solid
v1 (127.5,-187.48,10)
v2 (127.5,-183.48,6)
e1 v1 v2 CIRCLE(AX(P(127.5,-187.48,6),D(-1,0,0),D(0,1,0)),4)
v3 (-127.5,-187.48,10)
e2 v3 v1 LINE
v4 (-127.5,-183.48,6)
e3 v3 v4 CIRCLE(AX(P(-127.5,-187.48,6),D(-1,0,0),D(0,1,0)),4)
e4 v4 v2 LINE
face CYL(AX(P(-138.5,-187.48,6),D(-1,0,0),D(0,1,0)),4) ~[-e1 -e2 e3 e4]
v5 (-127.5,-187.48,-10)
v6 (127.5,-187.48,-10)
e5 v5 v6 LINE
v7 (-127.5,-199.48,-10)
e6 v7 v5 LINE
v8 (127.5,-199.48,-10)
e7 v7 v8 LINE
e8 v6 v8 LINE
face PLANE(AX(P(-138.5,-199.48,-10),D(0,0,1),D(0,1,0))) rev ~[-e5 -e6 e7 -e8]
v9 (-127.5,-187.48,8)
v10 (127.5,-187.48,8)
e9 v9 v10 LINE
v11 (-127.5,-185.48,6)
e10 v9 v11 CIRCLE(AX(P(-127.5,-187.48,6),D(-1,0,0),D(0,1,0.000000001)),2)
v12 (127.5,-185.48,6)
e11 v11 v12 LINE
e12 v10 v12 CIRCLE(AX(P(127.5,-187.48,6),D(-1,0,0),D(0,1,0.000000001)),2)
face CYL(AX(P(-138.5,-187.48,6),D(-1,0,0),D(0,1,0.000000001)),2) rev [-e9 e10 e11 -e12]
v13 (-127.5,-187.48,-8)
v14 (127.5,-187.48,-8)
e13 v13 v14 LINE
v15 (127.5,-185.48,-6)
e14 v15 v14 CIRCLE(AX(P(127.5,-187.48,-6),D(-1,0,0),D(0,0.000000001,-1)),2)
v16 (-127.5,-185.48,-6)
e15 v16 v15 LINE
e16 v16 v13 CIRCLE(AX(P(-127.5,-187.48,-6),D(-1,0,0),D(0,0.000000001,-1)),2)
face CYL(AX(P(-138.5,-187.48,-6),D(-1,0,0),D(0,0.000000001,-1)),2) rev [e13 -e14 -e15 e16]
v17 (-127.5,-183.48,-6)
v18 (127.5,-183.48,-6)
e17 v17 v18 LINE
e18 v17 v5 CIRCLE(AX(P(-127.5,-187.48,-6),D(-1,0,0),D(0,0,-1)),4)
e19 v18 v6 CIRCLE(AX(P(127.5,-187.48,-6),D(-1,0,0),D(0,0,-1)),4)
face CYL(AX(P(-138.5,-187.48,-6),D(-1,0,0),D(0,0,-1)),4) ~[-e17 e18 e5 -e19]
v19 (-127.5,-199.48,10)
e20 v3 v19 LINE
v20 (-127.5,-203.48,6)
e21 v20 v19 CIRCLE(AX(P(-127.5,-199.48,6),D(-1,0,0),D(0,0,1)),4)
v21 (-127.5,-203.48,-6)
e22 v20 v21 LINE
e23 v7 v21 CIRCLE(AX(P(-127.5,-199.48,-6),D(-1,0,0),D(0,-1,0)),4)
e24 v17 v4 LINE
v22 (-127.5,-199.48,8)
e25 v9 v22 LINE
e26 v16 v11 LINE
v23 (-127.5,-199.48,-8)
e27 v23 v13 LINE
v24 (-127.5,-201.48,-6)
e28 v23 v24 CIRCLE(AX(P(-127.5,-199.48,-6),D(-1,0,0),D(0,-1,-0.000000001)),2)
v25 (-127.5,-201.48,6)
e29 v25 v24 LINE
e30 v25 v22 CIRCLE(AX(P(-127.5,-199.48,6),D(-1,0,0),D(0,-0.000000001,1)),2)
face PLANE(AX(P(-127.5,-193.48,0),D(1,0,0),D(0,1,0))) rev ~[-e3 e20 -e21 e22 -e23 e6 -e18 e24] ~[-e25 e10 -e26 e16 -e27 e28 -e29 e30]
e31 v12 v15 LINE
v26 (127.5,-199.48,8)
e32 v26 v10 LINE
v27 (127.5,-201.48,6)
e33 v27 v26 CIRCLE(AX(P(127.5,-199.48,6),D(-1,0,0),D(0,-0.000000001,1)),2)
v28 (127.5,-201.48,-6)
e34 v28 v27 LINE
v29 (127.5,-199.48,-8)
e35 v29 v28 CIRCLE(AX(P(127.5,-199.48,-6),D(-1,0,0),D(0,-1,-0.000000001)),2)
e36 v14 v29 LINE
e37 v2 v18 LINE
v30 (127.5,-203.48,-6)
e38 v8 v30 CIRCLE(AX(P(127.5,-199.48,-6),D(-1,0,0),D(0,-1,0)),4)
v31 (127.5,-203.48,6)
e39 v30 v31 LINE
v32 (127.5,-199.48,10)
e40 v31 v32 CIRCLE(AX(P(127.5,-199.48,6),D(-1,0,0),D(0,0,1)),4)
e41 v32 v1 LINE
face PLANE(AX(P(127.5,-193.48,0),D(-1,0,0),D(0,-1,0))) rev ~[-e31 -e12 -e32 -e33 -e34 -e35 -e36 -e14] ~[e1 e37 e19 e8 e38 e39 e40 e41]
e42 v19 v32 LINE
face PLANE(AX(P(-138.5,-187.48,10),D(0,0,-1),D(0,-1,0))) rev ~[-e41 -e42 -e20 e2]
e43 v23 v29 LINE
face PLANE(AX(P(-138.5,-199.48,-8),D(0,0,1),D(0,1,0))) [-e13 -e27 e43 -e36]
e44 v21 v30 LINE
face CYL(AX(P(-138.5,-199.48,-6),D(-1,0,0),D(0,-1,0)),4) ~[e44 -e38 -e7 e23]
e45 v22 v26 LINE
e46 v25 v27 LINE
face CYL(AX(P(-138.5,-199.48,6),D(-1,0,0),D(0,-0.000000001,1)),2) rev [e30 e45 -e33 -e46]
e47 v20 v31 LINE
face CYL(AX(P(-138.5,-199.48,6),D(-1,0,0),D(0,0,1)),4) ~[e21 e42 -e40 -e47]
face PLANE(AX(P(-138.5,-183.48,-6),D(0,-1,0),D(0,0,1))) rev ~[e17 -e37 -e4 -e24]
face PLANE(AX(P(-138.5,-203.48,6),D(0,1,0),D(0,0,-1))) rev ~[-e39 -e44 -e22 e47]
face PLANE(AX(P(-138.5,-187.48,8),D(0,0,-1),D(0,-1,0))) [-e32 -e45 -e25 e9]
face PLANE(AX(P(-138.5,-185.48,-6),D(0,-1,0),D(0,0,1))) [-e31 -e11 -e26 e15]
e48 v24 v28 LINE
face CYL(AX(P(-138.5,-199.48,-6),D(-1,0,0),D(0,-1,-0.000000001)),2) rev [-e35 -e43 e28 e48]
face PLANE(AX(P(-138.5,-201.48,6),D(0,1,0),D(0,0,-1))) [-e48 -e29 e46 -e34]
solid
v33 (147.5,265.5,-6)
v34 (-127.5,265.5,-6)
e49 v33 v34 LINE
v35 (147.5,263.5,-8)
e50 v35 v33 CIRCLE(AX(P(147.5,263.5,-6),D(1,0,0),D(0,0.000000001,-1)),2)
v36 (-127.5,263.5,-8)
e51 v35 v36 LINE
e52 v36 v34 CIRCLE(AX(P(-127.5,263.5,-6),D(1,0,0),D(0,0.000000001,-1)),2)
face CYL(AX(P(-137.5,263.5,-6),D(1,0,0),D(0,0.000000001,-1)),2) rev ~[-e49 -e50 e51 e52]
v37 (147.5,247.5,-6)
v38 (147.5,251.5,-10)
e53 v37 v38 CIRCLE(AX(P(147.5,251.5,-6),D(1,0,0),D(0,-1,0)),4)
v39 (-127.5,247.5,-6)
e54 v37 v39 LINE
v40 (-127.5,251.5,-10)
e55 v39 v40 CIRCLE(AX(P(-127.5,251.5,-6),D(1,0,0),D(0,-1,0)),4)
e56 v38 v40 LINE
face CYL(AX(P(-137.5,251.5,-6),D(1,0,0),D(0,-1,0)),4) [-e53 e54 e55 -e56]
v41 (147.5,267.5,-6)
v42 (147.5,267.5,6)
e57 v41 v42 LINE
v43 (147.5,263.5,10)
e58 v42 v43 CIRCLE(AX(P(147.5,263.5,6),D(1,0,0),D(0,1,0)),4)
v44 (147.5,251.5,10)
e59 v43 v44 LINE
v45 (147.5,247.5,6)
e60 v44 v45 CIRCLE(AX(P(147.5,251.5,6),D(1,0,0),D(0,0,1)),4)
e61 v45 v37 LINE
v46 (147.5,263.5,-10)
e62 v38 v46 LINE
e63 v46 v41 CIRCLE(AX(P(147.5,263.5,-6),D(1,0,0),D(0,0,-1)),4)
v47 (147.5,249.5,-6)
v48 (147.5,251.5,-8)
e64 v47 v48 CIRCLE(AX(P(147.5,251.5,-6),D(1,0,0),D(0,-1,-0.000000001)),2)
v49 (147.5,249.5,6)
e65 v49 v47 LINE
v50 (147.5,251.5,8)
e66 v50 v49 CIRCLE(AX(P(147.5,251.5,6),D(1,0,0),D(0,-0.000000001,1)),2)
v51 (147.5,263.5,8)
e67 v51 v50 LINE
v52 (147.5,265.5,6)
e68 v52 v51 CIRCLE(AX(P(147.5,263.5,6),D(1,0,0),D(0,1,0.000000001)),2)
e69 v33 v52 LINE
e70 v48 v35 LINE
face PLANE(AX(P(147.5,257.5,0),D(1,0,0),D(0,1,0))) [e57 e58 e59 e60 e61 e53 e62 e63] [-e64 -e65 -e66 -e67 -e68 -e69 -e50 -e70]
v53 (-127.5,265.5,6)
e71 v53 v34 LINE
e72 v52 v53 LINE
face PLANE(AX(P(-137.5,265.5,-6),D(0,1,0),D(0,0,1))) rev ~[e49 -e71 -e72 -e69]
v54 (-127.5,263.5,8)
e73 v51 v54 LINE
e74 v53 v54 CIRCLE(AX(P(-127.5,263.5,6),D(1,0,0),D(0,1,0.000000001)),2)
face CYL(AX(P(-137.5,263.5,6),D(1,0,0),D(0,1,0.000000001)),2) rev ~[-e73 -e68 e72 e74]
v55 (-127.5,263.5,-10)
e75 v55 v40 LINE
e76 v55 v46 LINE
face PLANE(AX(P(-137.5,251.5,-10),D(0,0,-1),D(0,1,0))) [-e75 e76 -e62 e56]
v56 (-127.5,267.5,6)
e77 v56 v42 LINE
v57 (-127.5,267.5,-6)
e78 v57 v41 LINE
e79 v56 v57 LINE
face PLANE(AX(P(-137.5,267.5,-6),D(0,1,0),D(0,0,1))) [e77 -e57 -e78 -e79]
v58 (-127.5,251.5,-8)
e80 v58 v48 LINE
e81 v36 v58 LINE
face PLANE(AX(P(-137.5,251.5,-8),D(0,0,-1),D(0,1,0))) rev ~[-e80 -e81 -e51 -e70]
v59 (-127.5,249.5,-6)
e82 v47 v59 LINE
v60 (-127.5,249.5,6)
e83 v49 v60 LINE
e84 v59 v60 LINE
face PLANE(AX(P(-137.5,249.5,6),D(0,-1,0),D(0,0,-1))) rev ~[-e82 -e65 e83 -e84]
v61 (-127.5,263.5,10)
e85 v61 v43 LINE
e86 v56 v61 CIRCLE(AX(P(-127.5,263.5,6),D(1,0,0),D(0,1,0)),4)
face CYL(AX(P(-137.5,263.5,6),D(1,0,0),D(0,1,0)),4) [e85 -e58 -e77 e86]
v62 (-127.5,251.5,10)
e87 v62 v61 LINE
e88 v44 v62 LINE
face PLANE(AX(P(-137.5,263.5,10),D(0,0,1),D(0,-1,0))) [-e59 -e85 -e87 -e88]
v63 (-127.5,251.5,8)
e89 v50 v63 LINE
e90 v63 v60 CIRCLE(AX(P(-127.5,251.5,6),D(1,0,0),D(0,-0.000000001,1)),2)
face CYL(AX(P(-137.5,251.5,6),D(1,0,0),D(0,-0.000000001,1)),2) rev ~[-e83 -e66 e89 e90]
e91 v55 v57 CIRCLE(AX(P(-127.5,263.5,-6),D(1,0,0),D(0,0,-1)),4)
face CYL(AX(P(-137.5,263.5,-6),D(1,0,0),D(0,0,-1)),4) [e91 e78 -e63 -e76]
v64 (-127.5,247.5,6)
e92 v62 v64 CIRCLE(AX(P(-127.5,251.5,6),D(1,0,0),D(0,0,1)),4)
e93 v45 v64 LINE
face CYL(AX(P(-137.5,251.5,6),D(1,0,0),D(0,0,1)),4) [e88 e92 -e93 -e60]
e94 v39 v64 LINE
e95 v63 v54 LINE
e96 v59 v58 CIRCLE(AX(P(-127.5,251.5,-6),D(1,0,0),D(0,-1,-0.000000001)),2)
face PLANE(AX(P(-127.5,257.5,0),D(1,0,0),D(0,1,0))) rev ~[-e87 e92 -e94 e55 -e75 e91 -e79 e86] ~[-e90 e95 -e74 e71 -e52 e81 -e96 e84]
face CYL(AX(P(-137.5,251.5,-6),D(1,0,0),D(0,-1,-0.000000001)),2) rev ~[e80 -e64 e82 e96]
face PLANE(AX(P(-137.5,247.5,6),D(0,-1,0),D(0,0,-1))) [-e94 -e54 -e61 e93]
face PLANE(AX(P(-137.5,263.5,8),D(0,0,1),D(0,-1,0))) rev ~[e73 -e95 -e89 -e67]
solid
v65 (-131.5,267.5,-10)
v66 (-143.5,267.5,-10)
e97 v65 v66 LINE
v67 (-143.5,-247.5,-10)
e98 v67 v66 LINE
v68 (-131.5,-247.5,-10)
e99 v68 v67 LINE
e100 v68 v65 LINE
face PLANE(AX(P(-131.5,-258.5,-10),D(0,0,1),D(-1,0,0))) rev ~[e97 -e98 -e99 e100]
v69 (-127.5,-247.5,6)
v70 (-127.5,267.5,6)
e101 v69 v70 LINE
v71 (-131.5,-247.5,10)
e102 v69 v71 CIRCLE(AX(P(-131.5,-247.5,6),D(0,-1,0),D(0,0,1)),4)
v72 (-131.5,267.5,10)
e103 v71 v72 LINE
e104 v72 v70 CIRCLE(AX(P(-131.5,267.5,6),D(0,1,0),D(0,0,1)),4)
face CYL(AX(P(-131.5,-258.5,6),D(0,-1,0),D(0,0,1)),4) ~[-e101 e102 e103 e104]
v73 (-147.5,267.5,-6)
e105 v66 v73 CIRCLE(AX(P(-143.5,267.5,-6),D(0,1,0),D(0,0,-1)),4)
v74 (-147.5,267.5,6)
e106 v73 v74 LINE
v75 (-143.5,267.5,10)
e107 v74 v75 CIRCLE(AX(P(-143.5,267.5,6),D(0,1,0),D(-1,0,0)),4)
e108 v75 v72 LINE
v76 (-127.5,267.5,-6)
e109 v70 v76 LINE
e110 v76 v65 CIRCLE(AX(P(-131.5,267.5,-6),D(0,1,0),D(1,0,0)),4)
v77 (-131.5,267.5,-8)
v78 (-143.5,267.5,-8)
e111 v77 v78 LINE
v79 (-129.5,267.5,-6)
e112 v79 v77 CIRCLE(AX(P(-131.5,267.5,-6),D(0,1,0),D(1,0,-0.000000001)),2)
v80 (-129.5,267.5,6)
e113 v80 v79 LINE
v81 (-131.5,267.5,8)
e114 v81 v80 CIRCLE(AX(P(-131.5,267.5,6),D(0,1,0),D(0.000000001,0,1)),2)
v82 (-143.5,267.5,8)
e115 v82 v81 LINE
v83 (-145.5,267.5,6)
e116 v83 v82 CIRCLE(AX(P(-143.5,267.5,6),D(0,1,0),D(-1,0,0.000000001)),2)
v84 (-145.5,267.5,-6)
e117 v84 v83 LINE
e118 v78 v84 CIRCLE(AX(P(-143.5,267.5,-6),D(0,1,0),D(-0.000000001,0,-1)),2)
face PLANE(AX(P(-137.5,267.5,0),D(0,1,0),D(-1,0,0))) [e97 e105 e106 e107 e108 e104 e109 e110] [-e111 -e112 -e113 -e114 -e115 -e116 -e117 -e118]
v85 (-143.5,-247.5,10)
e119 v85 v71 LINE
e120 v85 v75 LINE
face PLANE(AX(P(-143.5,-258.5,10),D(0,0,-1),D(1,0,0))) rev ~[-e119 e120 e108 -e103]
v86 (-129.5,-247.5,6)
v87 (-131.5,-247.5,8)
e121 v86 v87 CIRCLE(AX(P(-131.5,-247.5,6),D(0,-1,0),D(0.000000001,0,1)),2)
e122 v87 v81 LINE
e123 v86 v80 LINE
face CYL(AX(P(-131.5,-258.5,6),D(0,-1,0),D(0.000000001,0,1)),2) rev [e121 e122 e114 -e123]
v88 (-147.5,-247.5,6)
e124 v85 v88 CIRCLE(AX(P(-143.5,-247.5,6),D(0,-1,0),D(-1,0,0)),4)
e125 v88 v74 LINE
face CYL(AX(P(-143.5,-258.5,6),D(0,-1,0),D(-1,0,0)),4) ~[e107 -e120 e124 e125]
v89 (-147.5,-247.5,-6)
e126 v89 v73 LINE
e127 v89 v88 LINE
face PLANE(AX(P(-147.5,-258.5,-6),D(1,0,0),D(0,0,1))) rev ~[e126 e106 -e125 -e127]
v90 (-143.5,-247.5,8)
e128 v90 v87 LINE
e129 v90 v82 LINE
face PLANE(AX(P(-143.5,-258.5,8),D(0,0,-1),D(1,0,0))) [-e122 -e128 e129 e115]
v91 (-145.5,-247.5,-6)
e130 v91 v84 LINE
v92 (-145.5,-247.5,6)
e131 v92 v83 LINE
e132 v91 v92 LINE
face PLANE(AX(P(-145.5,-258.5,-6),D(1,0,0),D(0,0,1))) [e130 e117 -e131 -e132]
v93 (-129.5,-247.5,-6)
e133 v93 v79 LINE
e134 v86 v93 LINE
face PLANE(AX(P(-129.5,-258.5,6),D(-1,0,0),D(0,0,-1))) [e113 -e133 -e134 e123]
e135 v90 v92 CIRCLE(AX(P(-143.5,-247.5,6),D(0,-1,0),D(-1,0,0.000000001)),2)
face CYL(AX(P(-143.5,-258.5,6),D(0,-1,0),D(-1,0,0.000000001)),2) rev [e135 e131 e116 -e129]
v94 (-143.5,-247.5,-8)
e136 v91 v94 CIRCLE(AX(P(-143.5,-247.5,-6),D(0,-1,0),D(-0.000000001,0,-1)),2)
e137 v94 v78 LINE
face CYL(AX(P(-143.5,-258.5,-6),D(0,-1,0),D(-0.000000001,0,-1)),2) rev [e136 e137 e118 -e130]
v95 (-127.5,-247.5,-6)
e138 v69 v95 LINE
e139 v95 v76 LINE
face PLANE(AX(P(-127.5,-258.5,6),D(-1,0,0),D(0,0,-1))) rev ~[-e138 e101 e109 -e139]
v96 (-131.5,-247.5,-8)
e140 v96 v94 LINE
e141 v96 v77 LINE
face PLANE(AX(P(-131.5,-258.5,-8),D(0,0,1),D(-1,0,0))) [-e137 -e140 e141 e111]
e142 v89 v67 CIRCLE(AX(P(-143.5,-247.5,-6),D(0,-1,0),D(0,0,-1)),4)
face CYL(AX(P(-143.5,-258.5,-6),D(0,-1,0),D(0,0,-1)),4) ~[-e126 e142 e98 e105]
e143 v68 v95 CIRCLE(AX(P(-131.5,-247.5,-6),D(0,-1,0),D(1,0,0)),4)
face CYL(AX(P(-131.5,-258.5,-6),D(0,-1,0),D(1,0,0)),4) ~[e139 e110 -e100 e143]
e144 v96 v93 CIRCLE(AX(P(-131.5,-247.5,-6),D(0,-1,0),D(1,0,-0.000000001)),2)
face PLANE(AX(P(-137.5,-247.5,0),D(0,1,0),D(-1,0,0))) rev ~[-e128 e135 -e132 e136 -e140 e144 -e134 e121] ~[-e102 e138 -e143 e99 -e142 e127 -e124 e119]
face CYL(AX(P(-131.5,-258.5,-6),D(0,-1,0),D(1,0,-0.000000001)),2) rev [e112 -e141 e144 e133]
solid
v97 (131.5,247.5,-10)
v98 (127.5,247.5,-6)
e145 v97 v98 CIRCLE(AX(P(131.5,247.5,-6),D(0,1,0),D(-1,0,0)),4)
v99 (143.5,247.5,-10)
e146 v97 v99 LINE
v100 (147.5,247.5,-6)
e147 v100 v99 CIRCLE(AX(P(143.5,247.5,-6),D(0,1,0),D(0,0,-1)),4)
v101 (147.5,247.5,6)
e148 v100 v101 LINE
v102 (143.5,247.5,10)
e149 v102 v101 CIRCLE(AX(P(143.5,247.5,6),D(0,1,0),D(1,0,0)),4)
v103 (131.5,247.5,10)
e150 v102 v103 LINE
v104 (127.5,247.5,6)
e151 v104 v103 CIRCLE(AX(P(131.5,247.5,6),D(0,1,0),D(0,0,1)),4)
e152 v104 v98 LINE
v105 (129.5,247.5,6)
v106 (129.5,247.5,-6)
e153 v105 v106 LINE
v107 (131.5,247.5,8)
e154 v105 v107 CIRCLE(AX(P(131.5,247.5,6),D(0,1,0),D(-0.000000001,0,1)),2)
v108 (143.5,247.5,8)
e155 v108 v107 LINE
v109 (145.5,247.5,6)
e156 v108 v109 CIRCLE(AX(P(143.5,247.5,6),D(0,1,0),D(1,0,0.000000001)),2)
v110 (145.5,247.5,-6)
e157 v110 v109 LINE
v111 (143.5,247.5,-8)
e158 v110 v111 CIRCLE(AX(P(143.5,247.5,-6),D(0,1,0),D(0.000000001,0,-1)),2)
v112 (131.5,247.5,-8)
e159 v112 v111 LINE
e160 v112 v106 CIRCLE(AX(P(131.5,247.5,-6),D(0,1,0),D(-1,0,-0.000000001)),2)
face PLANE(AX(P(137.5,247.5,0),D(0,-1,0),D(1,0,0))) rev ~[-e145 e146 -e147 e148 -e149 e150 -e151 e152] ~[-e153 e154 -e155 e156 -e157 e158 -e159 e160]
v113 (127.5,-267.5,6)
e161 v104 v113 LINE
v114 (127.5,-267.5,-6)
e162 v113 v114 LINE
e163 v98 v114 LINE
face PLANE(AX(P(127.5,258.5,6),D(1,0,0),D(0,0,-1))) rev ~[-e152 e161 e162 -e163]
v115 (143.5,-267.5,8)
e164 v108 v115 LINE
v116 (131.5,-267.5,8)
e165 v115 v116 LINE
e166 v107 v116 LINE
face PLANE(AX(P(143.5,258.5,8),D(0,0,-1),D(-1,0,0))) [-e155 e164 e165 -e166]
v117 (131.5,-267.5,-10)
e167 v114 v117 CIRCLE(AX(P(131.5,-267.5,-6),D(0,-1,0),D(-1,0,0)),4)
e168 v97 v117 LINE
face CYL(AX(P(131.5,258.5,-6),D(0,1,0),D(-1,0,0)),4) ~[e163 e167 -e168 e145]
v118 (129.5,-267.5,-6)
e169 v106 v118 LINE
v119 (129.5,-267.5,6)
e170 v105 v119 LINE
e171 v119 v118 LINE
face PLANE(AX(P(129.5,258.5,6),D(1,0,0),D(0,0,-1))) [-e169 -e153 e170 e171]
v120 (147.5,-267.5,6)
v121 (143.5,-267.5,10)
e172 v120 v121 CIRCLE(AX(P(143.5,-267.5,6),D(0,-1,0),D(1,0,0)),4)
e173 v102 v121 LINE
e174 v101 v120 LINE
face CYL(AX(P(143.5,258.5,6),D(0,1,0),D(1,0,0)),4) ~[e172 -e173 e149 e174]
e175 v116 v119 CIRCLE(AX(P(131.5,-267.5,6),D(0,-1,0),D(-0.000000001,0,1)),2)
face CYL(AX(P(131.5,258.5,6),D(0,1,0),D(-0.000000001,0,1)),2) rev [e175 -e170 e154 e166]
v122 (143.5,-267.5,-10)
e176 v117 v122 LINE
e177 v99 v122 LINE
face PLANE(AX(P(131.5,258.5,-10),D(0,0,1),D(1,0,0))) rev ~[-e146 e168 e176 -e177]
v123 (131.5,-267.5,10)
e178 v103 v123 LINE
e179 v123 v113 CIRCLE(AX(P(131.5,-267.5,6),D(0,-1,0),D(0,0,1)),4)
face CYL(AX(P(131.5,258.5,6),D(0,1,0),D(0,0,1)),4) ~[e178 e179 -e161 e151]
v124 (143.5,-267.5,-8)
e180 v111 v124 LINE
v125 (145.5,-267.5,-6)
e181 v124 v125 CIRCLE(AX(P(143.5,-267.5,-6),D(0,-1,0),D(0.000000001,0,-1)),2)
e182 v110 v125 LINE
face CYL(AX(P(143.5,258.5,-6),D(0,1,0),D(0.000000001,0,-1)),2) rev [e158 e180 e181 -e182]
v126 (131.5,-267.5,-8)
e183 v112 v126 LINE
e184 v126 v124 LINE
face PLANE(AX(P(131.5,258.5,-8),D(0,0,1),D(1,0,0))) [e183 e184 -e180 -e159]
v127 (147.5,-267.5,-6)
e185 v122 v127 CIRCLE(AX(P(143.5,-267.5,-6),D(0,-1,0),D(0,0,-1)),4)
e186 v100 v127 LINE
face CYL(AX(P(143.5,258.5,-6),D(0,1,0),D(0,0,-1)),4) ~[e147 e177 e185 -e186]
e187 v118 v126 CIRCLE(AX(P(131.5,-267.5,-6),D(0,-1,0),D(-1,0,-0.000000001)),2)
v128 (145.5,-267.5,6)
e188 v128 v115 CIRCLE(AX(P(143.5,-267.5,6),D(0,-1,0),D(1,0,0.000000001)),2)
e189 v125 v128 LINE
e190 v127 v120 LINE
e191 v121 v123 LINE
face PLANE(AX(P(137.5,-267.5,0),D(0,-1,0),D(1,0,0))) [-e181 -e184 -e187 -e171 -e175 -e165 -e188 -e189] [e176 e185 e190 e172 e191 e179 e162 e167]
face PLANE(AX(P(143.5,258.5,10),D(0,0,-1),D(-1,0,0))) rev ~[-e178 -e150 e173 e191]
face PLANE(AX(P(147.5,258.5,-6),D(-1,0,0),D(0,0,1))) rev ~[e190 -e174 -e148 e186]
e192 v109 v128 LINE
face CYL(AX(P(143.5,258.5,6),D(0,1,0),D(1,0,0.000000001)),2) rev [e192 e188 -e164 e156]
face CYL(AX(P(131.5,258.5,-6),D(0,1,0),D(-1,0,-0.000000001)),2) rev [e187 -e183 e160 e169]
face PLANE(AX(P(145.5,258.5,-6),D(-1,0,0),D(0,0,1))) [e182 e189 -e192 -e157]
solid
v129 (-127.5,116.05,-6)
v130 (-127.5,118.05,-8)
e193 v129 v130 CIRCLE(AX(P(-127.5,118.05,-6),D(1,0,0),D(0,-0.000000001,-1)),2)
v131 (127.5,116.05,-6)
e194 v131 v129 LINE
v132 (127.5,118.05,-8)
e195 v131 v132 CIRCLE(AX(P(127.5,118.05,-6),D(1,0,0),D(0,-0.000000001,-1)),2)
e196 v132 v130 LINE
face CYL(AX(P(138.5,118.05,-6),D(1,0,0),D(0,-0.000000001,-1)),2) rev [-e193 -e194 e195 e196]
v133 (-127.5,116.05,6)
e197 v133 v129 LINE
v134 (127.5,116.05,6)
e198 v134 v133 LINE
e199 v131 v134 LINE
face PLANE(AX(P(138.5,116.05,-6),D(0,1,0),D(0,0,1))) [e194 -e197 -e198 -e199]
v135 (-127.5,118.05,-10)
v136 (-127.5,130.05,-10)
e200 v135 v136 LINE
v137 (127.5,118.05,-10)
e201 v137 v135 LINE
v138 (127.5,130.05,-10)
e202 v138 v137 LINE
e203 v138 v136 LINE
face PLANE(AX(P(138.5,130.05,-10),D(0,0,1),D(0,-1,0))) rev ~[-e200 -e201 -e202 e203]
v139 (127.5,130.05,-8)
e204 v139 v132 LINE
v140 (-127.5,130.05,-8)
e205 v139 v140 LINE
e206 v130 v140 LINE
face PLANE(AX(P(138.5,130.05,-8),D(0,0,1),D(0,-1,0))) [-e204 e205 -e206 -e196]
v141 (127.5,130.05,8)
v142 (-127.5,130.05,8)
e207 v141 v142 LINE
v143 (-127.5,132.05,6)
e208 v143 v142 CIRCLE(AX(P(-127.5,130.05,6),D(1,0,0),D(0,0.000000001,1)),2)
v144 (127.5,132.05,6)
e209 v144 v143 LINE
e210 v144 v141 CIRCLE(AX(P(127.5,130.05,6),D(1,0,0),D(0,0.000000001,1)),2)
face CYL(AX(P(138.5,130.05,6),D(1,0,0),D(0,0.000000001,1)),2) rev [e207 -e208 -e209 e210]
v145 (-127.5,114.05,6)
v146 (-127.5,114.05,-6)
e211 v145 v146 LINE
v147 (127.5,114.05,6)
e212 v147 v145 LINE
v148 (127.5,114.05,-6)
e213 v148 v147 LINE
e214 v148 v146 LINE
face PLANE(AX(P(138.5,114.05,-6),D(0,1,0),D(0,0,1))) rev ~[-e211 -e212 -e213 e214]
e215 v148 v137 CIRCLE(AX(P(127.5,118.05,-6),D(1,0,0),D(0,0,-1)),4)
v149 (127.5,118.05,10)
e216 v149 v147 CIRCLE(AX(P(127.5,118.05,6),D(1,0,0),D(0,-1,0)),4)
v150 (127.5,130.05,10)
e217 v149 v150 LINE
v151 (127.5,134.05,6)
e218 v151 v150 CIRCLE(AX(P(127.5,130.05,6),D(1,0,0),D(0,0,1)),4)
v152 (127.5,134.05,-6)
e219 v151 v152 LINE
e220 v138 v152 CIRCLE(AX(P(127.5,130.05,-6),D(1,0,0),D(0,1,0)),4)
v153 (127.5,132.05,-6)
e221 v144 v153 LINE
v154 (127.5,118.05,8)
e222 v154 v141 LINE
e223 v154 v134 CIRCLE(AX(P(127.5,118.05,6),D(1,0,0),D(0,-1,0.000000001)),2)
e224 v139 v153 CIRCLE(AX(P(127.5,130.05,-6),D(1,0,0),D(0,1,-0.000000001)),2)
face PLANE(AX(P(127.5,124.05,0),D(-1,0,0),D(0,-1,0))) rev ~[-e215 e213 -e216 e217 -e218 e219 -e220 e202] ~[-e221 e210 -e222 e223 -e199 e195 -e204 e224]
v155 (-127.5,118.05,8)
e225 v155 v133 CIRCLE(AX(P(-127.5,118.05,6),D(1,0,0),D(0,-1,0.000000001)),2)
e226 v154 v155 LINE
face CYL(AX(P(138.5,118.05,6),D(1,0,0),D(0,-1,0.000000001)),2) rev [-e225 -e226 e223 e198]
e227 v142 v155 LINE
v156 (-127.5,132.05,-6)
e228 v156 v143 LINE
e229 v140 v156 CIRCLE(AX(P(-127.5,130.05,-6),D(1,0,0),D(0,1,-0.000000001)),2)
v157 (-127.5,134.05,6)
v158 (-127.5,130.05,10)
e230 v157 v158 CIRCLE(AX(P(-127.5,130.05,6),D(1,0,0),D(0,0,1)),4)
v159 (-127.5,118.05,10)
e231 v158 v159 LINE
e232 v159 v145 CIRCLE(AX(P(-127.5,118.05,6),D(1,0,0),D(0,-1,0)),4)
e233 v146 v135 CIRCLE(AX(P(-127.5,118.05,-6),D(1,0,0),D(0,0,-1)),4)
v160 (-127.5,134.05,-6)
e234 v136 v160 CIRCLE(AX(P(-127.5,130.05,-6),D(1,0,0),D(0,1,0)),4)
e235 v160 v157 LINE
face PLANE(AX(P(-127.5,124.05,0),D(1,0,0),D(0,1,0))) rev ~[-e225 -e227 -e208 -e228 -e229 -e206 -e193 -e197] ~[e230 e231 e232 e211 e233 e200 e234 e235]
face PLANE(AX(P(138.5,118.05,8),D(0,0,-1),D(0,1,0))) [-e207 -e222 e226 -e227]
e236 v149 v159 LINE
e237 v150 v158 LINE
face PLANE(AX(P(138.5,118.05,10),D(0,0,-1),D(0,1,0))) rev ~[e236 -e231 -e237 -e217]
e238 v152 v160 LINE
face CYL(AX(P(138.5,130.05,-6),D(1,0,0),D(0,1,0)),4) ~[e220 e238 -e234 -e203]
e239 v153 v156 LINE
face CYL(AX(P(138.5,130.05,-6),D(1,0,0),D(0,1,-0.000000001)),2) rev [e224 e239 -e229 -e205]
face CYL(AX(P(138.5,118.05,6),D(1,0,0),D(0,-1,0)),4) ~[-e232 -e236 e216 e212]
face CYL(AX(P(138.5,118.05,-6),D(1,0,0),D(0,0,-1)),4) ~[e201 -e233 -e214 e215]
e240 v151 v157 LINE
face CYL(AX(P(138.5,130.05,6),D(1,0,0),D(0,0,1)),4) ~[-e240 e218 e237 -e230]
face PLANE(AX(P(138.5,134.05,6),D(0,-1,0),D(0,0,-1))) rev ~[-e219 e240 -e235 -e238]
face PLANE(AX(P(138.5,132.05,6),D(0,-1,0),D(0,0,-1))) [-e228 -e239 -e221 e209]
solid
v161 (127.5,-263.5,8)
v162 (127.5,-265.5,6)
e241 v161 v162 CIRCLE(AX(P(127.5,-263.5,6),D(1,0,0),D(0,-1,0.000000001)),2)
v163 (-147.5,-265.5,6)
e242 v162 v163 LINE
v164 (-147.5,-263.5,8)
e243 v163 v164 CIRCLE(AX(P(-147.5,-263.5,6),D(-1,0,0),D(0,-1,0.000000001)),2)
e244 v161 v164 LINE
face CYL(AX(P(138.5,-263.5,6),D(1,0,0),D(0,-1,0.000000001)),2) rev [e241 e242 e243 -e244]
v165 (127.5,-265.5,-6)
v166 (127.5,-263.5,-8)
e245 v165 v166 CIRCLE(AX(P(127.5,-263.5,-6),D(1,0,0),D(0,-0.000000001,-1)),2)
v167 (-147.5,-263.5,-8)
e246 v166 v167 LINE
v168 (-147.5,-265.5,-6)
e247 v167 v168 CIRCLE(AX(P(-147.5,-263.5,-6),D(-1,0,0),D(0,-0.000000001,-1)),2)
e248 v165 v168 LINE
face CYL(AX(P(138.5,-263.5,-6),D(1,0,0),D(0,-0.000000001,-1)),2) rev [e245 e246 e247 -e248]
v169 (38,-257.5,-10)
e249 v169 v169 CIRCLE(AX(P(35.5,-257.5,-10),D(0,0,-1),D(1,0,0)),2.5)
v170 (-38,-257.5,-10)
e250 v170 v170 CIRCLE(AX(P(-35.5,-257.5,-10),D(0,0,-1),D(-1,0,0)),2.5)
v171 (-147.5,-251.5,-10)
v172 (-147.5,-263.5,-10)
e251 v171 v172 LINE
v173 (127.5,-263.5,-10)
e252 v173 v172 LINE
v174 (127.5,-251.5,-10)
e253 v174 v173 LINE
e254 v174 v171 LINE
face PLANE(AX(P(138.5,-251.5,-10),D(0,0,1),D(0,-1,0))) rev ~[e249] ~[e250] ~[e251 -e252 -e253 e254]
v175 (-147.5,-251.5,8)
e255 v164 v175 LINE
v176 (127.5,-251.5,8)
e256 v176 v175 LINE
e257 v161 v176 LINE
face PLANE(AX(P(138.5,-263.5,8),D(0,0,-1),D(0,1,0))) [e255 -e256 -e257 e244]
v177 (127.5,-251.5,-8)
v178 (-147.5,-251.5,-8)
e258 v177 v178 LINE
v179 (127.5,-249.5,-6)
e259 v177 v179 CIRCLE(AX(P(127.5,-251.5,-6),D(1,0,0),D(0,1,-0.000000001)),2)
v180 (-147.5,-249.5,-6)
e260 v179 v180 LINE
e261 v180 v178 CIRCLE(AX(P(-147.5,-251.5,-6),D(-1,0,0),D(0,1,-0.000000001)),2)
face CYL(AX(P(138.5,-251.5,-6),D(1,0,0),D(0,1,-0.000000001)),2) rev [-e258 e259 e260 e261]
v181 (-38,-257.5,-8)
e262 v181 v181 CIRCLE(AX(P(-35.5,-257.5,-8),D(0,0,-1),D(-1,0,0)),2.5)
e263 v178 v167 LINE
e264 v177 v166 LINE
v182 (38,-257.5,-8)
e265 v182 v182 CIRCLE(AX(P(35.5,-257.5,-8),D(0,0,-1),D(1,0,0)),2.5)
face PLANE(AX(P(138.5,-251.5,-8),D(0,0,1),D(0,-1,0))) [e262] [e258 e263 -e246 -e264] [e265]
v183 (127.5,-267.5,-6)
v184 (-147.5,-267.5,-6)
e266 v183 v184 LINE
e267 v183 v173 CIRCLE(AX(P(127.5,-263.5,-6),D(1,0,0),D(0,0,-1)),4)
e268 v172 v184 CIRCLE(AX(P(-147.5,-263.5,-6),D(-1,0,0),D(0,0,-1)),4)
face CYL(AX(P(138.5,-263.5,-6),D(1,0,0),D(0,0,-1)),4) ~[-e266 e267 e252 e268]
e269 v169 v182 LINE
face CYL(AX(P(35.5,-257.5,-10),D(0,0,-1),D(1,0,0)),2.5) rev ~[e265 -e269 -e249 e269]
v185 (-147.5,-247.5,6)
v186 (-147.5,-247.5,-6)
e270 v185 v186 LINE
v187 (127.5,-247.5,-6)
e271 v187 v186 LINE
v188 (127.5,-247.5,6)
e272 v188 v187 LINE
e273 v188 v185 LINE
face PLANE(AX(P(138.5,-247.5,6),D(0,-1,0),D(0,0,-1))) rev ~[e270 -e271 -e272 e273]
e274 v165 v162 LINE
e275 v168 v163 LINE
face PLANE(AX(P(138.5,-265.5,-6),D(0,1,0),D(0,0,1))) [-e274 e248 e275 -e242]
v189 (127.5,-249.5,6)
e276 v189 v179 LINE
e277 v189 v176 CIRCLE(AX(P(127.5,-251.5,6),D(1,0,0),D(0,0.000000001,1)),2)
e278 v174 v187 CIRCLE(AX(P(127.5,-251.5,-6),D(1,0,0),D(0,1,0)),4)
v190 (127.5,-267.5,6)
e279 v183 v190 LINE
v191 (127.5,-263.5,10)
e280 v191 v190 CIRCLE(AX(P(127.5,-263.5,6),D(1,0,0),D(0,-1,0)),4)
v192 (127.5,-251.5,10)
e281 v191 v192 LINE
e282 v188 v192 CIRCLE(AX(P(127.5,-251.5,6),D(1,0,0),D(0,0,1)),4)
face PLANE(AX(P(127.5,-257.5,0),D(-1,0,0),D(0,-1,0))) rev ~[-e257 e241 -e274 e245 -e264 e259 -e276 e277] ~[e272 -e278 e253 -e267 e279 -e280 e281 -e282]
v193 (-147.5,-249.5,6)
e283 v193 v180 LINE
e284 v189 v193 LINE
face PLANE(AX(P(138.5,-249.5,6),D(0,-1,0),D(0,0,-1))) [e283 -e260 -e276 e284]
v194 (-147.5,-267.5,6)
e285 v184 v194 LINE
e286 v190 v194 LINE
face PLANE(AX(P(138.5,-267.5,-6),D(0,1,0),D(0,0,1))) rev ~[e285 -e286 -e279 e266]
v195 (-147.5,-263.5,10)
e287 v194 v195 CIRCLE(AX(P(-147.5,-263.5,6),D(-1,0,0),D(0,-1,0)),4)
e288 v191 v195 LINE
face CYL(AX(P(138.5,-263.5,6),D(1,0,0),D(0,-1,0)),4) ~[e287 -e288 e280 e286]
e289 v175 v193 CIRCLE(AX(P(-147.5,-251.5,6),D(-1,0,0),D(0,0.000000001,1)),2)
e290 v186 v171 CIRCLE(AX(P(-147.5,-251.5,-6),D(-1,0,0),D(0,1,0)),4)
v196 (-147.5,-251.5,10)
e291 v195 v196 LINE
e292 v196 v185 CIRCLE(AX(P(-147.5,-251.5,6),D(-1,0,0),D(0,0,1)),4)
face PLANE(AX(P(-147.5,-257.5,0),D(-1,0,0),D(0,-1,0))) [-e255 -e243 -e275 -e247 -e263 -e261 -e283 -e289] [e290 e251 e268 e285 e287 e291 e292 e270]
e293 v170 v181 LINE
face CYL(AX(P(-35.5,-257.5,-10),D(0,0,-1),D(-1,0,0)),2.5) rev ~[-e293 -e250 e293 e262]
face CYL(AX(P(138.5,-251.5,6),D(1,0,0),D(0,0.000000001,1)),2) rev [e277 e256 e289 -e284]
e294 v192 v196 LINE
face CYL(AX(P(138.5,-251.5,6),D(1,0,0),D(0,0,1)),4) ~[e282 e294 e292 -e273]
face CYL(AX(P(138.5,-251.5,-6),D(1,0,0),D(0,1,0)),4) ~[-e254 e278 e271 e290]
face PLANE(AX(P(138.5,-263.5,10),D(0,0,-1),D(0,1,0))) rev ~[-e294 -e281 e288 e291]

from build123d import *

# Parameters (mm, degrees)
SQUARE_TUBE_20_X_20_X_2_1_DEPTH      = 285
SQUARE_TUBE_20_X_20_X_2_1_DEPTH_BACK = 1
SQUARE_TUBE_20_X_20_X_2_1_2_DEPTH    = 526
SQUARE_TUBE_20_X_20_X_2_1_3_DEPTH    = 286
SQUARE_TUBE_20_X_20_X_2_1_4_DEPTH    = 526
SQUARE_TUBE_20_X_20_X_2_1_5_DEPTH    = 277
SQUARE_TUBE_20_X_20_X_2_1_6_DEPTH    = 277
SKETCH17_R                           = 2.5
CUT_EXTRUDE1_DEPTH                   = 5


with BuildPart() as part:
    # Sketch16 → Square tube 20 X 20 X 2(1) (new, two sides)
    with BuildSketch(Plane(origin=(-137.5, 257.5, 0), x_dir=(0, 1, 0), z_dir=(1, 0, 0))) as square_tube_20_x_20_x_2_1_sk:
        with BuildLine():
            Line((-6, -10), (6, -10))
            ThreePointArc((6, -10), (8.828427125, -8.828427125), (10, -6))
            Line((10, -6), (10, 6))
            ThreePointArc((10, 6), (8.828427125, 8.828427125), (6, 10))
            Line((6, 10), (-6, 10))
            ThreePointArc((-6, 10), (-8.828427125, 8.828427125), (-10, 6))
            Line((-10, 6), (-10, -6))
            ThreePointArc((-10, -6), (-8.828427125, -8.828427125), (-6, -10))
        make_face()
        with BuildLine():
            Line((-6, -8), (6, -8))
            ThreePointArc((6, -8), (7.414213562, -7.414213562), (8, -6))
            Line((8, -6), (8, 6))
            ThreePointArc((8, 6), (7.414213562, 7.414213562), (6, 8))
            Line((6, 8), (-6, 8))
            ThreePointArc((-6, 8), (-7.414213562, 7.414213562), (-8, 6))
            Line((-8, 6), (-8, -6))
            ThreePointArc((-8, -6), (-7.414213562, -7.414213562), (-6, -8))
        make_face(mode=Mode.SUBTRACT)
    extrude(amount=SQUARE_TUBE_20_X_20_X_2_1_DEPTH)
    extrude(square_tube_20_x_20_x_2_1_sk.sketch, amount=-SQUARE_TUBE_20_X_20_X_2_1_DEPTH_BACK)

    # Square tube 20 X 20 X 2(1) end butt 1
    split(bisect_by=Plane(origin=(-127.5, 257.5, 0), x_dir=(0, 1, 0), z_dir=(1, 0, 0)), keep=Keep.TOP)


with BuildPart() as body_2:
    # Sketch16 on segment 2 (carried to segment 2) → Square tube 20 X 20 X 2_1 2 (new body)
    with BuildSketch(Plane(origin=(137.5, 258.5, 0), x_dir=(1, 0, 0), z_dir=(0, -1, 0))):
        with BuildLine():
            Line((-6, -10), (6, -10))
            ThreePointArc((6, -10), (8.828427125, -8.828427125), (10, -6))
            Line((10, -6), (10, 6))
            ThreePointArc((10, 6), (8.828427125, 8.828427125), (6, 10))
            Line((6, 10), (-6, 10))
            ThreePointArc((-6, 10), (-8.828427125, 8.828427125), (-10, 6))
            Line((-10, 6), (-10, -6))
            ThreePointArc((-10, -6), (-8.828427125, -8.828427125), (-6, -10))
        make_face()
        with BuildLine():
            Line((-6, -8), (6, -8))
            ThreePointArc((6, -8), (7.414213562, -7.414213562), (8, -6))
            Line((8, -6), (8, 6))
            ThreePointArc((8, 6), (7.414213562, 7.414213562), (6, 8))
            Line((6, 8), (-6, 8))
            ThreePointArc((-6, 8), (-7.414213562, 7.414213562), (-8, 6))
            Line((-8, 6), (-8, -6))
            ThreePointArc((-8, -6), (-7.414213562, -7.414213562), (-6, -8))
        make_face(mode=Mode.SUBTRACT)
    extrude(amount=SQUARE_TUBE_20_X_20_X_2_1_2_DEPTH)

    # Square tube 20 X 20 X 2_1 2 end butt 1
    split(bisect_by=Plane(origin=(137.5, 247.5, 0), x_dir=(1, 0, 0), z_dir=(0, -1, 0)), keep=Keep.TOP)


with BuildPart() as body_3:
    # Sketch16 on segment 3 (carried to segment 3) → Square tube 20 X 20 X 2_1 3 (new body)
    with BuildSketch(Plane(origin=(138.5, -257.5, 0), x_dir=(0, -1, 0), z_dir=(-1, 0, 0))):
        with BuildLine():
            Line((-6, -10), (6, -10))
            ThreePointArc((6, -10), (8.828427125, -8.828427125), (10, -6))
            Line((10, -6), (10, 6))
            ThreePointArc((10, 6), (8.828427125, 8.828427125), (6, 10))
            Line((6, 10), (-6, 10))
            ThreePointArc((-6, 10), (-8.828427125, 8.828427125), (-10, 6))
            Line((-10, 6), (-10, -6))
            ThreePointArc((-10, -6), (-8.828427125, -8.828427125), (-6, -10))
        make_face()
        with BuildLine():
            Line((-6, -8), (6, -8))
            ThreePointArc((6, -8), (7.414213562, -7.414213562), (8, -6))
            Line((8, -6), (8, 6))
            ThreePointArc((8, 6), (7.414213562, 7.414213562), (6, 8))
            Line((6, 8), (-6, 8))
            ThreePointArc((-6, 8), (-7.414213562, 7.414213562), (-8, 6))
            Line((-8, 6), (-8, -6))
            ThreePointArc((-8, -6), (-7.414213562, -7.414213562), (-6, -8))
        make_face(mode=Mode.SUBTRACT)
    extrude(amount=SQUARE_TUBE_20_X_20_X_2_1_3_DEPTH)

    # Square tube 20 X 20 X 2_1 3 end butt 1
    split(bisect_by=Plane(origin=(127.5, -257.5, 0), x_dir=(0, -1, 0), z_dir=(-1, 0, 0)), keep=Keep.TOP)

    # Sketch17 → Cut-Extrude1 (cut)
    with BuildSketch(Plane(origin=(0, 0, -10), x_dir=(-1, 0, 0), z_dir=(0, 0, -1))):
        with Locations((35.5, -257.5)):
            Circle(SKETCH17_R)
        with Locations(Location((-35.5, -257.5, 0), (0, 0, 180))):
            Circle(SKETCH17_R)
    extrude(amount=-CUT_EXTRUDE1_DEPTH, mode=Mode.SUBTRACT)


with BuildPart() as body_4:
    # Sketch16 on segment 4 (carried to segment 4) → Square tube 20 X 20 X 2_1 4 (new body)
    with BuildSketch(Plane(origin=(-137.5, -258.5, 0), x_dir=(-1, 0, 0), z_dir=(0, 1, 0))):
        with BuildLine():
            Line((-6, -10), (6, -10))
            ThreePointArc((6, -10), (8.828427125, -8.828427125), (10, -6))
            Line((10, -6), (10, 6))
            ThreePointArc((10, 6), (8.828427125, 8.828427125), (6, 10))
            Line((6, 10), (-6, 10))
            ThreePointArc((-6, 10), (-8.828427125, 8.828427125), (-10, 6))
            Line((-10, 6), (-10, -6))
            ThreePointArc((-10, -6), (-8.828427125, -8.828427125), (-6, -10))
        make_face()
        with BuildLine():
            Line((-6, -8), (6, -8))
            ThreePointArc((6, -8), (7.414213562, -7.414213562), (8, -6))
            Line((8, -6), (8, 6))
            ThreePointArc((8, 6), (7.414213562, 7.414213562), (6, 8))
            Line((6, 8), (-6, 8))
            ThreePointArc((-6, 8), (-7.414213562, 7.414213562), (-8, 6))
            Line((-8, 6), (-8, -6))
            ThreePointArc((-8, -6), (-7.414213562, -7.414213562), (-6, -8))
        make_face(mode=Mode.SUBTRACT)
    extrude(amount=SQUARE_TUBE_20_X_20_X_2_1_4_DEPTH)

    # Square tube 20 X 20 X 2_1 4 end butt 1
    split(bisect_by=Plane(origin=(-137.5, -247.5, 0), x_dir=(-1, 0, 0), z_dir=(0, 1, 0)), keep=Keep.TOP)


with BuildPart() as body_5:
    # Sketch16 on segment 5 (carried to segment 5) → Square tube 20 X 20 X 2_1 5 (new body)
    with BuildSketch(Plane(origin=(138.5, 124.05, 0), x_dir=(0, -1, 0), z_dir=(-1, 0, 0))):
        with BuildLine():
            Line((-6, -10), (6, -10))
            ThreePointArc((6, -10), (8.828427125, -8.828427125), (10, -6))
            Line((10, -6), (10, 6))
            ThreePointArc((10, 6), (8.828427125, 8.828427125), (6, 10))
            Line((6, 10), (-6, 10))
            ThreePointArc((-6, 10), (-8.828427125, 8.828427125), (-10, 6))
            Line((-10, 6), (-10, -6))
            ThreePointArc((-10, -6), (-8.828427125, -8.828427125), (-6, -10))
        make_face()
        with BuildLine():
            Line((-6, -8), (6, -8))
            ThreePointArc((6, -8), (7.414213562, -7.414213562), (8, -6))
            Line((8, -6), (8, 6))
            ThreePointArc((8, 6), (7.414213562, 7.414213562), (6, 8))
            Line((6, 8), (-6, 8))
            ThreePointArc((-6, 8), (-7.414213562, 7.414213562), (-8, 6))
            Line((-8, 6), (-8, -6))
            ThreePointArc((-8, -6), (-7.414213562, -7.414213562), (-6, -8))
        make_face(mode=Mode.SUBTRACT)
    extrude(amount=SQUARE_TUBE_20_X_20_X_2_1_5_DEPTH)

    # Square tube 20 X 20 X 2_1 5 end butt 1
    split(bisect_by=Plane(origin=(127.5, 124.05, 0), x_dir=(0, -1, 0), z_dir=(-1, 0, 0)), keep=Keep.TOP)

    # Square tube 20 X 20 X 2_1 5 end butt 2
    split(bisect_by=Plane(origin=(-127.5, 124.05, 0), x_dir=(0, 1, 0), z_dir=(1, 0, 0)), keep=Keep.TOP)


with BuildPart() as body_6:
    # Sketch16 on segment 6 (carried to segment 6) → Square tube 20 X 20 X 2_1 6 (new body)
    with BuildSketch(Plane(origin=(-138.5, -193.48, 0), x_dir=(0, 1, 0), z_dir=(1, 0, 0))):
        with BuildLine():
            Line((-6, -10), (6, -10))
            ThreePointArc((6, -10), (8.828427125, -8.828427125), (10, -6))
            Line((10, -6), (10, 6))
            ThreePointArc((10, 6), (8.828427125, 8.828427125), (6, 10))
            Line((6, 10), (-6, 10))
            ThreePointArc((-6, 10), (-8.828427125, 8.828427125), (-10, 6))
            Line((-10, 6), (-10, -6))
            ThreePointArc((-10, -6), (-8.828427125, -8.828427125), (-6, -10))
        make_face()
        with BuildLine():
            Line((-6, -8), (6, -8))
            ThreePointArc((6, -8), (7.414213562, -7.414213562), (8, -6))
            Line((8, -6), (8, 6))
            ThreePointArc((8, 6), (7.414213562, 7.414213562), (6, 8))
            Line((6, 8), (-6, 8))
            ThreePointArc((-6, 8), (-7.414213562, 7.414213562), (-8, 6))
            Line((-8, 6), (-8, -6))
            ThreePointArc((-8, -6), (-7.414213562, -7.414213562), (-6, -8))
        make_face(mode=Mode.SUBTRACT)
    extrude(amount=SQUARE_TUBE_20_X_20_X_2_1_6_DEPTH)

    # Square tube 20 X 20 X 2_1 6 end butt 1
    split(bisect_by=Plane(origin=(-127.5, -193.48, 0), x_dir=(0, 1, 0), z_dir=(1, 0, 0)), keep=Keep.TOP)

    # Square tube 20 X 20 X 2_1 6 end butt 2
    split(bisect_by=Plane(origin=(127.5, -193.48, 0), x_dir=(0, -1, 0), z_dir=(-1, 0, 0)), keep=Keep.TOP)


solid = Compound([part.part, body_2.part, body_3.part, body_4.part, body_5.part, body_6.part])
